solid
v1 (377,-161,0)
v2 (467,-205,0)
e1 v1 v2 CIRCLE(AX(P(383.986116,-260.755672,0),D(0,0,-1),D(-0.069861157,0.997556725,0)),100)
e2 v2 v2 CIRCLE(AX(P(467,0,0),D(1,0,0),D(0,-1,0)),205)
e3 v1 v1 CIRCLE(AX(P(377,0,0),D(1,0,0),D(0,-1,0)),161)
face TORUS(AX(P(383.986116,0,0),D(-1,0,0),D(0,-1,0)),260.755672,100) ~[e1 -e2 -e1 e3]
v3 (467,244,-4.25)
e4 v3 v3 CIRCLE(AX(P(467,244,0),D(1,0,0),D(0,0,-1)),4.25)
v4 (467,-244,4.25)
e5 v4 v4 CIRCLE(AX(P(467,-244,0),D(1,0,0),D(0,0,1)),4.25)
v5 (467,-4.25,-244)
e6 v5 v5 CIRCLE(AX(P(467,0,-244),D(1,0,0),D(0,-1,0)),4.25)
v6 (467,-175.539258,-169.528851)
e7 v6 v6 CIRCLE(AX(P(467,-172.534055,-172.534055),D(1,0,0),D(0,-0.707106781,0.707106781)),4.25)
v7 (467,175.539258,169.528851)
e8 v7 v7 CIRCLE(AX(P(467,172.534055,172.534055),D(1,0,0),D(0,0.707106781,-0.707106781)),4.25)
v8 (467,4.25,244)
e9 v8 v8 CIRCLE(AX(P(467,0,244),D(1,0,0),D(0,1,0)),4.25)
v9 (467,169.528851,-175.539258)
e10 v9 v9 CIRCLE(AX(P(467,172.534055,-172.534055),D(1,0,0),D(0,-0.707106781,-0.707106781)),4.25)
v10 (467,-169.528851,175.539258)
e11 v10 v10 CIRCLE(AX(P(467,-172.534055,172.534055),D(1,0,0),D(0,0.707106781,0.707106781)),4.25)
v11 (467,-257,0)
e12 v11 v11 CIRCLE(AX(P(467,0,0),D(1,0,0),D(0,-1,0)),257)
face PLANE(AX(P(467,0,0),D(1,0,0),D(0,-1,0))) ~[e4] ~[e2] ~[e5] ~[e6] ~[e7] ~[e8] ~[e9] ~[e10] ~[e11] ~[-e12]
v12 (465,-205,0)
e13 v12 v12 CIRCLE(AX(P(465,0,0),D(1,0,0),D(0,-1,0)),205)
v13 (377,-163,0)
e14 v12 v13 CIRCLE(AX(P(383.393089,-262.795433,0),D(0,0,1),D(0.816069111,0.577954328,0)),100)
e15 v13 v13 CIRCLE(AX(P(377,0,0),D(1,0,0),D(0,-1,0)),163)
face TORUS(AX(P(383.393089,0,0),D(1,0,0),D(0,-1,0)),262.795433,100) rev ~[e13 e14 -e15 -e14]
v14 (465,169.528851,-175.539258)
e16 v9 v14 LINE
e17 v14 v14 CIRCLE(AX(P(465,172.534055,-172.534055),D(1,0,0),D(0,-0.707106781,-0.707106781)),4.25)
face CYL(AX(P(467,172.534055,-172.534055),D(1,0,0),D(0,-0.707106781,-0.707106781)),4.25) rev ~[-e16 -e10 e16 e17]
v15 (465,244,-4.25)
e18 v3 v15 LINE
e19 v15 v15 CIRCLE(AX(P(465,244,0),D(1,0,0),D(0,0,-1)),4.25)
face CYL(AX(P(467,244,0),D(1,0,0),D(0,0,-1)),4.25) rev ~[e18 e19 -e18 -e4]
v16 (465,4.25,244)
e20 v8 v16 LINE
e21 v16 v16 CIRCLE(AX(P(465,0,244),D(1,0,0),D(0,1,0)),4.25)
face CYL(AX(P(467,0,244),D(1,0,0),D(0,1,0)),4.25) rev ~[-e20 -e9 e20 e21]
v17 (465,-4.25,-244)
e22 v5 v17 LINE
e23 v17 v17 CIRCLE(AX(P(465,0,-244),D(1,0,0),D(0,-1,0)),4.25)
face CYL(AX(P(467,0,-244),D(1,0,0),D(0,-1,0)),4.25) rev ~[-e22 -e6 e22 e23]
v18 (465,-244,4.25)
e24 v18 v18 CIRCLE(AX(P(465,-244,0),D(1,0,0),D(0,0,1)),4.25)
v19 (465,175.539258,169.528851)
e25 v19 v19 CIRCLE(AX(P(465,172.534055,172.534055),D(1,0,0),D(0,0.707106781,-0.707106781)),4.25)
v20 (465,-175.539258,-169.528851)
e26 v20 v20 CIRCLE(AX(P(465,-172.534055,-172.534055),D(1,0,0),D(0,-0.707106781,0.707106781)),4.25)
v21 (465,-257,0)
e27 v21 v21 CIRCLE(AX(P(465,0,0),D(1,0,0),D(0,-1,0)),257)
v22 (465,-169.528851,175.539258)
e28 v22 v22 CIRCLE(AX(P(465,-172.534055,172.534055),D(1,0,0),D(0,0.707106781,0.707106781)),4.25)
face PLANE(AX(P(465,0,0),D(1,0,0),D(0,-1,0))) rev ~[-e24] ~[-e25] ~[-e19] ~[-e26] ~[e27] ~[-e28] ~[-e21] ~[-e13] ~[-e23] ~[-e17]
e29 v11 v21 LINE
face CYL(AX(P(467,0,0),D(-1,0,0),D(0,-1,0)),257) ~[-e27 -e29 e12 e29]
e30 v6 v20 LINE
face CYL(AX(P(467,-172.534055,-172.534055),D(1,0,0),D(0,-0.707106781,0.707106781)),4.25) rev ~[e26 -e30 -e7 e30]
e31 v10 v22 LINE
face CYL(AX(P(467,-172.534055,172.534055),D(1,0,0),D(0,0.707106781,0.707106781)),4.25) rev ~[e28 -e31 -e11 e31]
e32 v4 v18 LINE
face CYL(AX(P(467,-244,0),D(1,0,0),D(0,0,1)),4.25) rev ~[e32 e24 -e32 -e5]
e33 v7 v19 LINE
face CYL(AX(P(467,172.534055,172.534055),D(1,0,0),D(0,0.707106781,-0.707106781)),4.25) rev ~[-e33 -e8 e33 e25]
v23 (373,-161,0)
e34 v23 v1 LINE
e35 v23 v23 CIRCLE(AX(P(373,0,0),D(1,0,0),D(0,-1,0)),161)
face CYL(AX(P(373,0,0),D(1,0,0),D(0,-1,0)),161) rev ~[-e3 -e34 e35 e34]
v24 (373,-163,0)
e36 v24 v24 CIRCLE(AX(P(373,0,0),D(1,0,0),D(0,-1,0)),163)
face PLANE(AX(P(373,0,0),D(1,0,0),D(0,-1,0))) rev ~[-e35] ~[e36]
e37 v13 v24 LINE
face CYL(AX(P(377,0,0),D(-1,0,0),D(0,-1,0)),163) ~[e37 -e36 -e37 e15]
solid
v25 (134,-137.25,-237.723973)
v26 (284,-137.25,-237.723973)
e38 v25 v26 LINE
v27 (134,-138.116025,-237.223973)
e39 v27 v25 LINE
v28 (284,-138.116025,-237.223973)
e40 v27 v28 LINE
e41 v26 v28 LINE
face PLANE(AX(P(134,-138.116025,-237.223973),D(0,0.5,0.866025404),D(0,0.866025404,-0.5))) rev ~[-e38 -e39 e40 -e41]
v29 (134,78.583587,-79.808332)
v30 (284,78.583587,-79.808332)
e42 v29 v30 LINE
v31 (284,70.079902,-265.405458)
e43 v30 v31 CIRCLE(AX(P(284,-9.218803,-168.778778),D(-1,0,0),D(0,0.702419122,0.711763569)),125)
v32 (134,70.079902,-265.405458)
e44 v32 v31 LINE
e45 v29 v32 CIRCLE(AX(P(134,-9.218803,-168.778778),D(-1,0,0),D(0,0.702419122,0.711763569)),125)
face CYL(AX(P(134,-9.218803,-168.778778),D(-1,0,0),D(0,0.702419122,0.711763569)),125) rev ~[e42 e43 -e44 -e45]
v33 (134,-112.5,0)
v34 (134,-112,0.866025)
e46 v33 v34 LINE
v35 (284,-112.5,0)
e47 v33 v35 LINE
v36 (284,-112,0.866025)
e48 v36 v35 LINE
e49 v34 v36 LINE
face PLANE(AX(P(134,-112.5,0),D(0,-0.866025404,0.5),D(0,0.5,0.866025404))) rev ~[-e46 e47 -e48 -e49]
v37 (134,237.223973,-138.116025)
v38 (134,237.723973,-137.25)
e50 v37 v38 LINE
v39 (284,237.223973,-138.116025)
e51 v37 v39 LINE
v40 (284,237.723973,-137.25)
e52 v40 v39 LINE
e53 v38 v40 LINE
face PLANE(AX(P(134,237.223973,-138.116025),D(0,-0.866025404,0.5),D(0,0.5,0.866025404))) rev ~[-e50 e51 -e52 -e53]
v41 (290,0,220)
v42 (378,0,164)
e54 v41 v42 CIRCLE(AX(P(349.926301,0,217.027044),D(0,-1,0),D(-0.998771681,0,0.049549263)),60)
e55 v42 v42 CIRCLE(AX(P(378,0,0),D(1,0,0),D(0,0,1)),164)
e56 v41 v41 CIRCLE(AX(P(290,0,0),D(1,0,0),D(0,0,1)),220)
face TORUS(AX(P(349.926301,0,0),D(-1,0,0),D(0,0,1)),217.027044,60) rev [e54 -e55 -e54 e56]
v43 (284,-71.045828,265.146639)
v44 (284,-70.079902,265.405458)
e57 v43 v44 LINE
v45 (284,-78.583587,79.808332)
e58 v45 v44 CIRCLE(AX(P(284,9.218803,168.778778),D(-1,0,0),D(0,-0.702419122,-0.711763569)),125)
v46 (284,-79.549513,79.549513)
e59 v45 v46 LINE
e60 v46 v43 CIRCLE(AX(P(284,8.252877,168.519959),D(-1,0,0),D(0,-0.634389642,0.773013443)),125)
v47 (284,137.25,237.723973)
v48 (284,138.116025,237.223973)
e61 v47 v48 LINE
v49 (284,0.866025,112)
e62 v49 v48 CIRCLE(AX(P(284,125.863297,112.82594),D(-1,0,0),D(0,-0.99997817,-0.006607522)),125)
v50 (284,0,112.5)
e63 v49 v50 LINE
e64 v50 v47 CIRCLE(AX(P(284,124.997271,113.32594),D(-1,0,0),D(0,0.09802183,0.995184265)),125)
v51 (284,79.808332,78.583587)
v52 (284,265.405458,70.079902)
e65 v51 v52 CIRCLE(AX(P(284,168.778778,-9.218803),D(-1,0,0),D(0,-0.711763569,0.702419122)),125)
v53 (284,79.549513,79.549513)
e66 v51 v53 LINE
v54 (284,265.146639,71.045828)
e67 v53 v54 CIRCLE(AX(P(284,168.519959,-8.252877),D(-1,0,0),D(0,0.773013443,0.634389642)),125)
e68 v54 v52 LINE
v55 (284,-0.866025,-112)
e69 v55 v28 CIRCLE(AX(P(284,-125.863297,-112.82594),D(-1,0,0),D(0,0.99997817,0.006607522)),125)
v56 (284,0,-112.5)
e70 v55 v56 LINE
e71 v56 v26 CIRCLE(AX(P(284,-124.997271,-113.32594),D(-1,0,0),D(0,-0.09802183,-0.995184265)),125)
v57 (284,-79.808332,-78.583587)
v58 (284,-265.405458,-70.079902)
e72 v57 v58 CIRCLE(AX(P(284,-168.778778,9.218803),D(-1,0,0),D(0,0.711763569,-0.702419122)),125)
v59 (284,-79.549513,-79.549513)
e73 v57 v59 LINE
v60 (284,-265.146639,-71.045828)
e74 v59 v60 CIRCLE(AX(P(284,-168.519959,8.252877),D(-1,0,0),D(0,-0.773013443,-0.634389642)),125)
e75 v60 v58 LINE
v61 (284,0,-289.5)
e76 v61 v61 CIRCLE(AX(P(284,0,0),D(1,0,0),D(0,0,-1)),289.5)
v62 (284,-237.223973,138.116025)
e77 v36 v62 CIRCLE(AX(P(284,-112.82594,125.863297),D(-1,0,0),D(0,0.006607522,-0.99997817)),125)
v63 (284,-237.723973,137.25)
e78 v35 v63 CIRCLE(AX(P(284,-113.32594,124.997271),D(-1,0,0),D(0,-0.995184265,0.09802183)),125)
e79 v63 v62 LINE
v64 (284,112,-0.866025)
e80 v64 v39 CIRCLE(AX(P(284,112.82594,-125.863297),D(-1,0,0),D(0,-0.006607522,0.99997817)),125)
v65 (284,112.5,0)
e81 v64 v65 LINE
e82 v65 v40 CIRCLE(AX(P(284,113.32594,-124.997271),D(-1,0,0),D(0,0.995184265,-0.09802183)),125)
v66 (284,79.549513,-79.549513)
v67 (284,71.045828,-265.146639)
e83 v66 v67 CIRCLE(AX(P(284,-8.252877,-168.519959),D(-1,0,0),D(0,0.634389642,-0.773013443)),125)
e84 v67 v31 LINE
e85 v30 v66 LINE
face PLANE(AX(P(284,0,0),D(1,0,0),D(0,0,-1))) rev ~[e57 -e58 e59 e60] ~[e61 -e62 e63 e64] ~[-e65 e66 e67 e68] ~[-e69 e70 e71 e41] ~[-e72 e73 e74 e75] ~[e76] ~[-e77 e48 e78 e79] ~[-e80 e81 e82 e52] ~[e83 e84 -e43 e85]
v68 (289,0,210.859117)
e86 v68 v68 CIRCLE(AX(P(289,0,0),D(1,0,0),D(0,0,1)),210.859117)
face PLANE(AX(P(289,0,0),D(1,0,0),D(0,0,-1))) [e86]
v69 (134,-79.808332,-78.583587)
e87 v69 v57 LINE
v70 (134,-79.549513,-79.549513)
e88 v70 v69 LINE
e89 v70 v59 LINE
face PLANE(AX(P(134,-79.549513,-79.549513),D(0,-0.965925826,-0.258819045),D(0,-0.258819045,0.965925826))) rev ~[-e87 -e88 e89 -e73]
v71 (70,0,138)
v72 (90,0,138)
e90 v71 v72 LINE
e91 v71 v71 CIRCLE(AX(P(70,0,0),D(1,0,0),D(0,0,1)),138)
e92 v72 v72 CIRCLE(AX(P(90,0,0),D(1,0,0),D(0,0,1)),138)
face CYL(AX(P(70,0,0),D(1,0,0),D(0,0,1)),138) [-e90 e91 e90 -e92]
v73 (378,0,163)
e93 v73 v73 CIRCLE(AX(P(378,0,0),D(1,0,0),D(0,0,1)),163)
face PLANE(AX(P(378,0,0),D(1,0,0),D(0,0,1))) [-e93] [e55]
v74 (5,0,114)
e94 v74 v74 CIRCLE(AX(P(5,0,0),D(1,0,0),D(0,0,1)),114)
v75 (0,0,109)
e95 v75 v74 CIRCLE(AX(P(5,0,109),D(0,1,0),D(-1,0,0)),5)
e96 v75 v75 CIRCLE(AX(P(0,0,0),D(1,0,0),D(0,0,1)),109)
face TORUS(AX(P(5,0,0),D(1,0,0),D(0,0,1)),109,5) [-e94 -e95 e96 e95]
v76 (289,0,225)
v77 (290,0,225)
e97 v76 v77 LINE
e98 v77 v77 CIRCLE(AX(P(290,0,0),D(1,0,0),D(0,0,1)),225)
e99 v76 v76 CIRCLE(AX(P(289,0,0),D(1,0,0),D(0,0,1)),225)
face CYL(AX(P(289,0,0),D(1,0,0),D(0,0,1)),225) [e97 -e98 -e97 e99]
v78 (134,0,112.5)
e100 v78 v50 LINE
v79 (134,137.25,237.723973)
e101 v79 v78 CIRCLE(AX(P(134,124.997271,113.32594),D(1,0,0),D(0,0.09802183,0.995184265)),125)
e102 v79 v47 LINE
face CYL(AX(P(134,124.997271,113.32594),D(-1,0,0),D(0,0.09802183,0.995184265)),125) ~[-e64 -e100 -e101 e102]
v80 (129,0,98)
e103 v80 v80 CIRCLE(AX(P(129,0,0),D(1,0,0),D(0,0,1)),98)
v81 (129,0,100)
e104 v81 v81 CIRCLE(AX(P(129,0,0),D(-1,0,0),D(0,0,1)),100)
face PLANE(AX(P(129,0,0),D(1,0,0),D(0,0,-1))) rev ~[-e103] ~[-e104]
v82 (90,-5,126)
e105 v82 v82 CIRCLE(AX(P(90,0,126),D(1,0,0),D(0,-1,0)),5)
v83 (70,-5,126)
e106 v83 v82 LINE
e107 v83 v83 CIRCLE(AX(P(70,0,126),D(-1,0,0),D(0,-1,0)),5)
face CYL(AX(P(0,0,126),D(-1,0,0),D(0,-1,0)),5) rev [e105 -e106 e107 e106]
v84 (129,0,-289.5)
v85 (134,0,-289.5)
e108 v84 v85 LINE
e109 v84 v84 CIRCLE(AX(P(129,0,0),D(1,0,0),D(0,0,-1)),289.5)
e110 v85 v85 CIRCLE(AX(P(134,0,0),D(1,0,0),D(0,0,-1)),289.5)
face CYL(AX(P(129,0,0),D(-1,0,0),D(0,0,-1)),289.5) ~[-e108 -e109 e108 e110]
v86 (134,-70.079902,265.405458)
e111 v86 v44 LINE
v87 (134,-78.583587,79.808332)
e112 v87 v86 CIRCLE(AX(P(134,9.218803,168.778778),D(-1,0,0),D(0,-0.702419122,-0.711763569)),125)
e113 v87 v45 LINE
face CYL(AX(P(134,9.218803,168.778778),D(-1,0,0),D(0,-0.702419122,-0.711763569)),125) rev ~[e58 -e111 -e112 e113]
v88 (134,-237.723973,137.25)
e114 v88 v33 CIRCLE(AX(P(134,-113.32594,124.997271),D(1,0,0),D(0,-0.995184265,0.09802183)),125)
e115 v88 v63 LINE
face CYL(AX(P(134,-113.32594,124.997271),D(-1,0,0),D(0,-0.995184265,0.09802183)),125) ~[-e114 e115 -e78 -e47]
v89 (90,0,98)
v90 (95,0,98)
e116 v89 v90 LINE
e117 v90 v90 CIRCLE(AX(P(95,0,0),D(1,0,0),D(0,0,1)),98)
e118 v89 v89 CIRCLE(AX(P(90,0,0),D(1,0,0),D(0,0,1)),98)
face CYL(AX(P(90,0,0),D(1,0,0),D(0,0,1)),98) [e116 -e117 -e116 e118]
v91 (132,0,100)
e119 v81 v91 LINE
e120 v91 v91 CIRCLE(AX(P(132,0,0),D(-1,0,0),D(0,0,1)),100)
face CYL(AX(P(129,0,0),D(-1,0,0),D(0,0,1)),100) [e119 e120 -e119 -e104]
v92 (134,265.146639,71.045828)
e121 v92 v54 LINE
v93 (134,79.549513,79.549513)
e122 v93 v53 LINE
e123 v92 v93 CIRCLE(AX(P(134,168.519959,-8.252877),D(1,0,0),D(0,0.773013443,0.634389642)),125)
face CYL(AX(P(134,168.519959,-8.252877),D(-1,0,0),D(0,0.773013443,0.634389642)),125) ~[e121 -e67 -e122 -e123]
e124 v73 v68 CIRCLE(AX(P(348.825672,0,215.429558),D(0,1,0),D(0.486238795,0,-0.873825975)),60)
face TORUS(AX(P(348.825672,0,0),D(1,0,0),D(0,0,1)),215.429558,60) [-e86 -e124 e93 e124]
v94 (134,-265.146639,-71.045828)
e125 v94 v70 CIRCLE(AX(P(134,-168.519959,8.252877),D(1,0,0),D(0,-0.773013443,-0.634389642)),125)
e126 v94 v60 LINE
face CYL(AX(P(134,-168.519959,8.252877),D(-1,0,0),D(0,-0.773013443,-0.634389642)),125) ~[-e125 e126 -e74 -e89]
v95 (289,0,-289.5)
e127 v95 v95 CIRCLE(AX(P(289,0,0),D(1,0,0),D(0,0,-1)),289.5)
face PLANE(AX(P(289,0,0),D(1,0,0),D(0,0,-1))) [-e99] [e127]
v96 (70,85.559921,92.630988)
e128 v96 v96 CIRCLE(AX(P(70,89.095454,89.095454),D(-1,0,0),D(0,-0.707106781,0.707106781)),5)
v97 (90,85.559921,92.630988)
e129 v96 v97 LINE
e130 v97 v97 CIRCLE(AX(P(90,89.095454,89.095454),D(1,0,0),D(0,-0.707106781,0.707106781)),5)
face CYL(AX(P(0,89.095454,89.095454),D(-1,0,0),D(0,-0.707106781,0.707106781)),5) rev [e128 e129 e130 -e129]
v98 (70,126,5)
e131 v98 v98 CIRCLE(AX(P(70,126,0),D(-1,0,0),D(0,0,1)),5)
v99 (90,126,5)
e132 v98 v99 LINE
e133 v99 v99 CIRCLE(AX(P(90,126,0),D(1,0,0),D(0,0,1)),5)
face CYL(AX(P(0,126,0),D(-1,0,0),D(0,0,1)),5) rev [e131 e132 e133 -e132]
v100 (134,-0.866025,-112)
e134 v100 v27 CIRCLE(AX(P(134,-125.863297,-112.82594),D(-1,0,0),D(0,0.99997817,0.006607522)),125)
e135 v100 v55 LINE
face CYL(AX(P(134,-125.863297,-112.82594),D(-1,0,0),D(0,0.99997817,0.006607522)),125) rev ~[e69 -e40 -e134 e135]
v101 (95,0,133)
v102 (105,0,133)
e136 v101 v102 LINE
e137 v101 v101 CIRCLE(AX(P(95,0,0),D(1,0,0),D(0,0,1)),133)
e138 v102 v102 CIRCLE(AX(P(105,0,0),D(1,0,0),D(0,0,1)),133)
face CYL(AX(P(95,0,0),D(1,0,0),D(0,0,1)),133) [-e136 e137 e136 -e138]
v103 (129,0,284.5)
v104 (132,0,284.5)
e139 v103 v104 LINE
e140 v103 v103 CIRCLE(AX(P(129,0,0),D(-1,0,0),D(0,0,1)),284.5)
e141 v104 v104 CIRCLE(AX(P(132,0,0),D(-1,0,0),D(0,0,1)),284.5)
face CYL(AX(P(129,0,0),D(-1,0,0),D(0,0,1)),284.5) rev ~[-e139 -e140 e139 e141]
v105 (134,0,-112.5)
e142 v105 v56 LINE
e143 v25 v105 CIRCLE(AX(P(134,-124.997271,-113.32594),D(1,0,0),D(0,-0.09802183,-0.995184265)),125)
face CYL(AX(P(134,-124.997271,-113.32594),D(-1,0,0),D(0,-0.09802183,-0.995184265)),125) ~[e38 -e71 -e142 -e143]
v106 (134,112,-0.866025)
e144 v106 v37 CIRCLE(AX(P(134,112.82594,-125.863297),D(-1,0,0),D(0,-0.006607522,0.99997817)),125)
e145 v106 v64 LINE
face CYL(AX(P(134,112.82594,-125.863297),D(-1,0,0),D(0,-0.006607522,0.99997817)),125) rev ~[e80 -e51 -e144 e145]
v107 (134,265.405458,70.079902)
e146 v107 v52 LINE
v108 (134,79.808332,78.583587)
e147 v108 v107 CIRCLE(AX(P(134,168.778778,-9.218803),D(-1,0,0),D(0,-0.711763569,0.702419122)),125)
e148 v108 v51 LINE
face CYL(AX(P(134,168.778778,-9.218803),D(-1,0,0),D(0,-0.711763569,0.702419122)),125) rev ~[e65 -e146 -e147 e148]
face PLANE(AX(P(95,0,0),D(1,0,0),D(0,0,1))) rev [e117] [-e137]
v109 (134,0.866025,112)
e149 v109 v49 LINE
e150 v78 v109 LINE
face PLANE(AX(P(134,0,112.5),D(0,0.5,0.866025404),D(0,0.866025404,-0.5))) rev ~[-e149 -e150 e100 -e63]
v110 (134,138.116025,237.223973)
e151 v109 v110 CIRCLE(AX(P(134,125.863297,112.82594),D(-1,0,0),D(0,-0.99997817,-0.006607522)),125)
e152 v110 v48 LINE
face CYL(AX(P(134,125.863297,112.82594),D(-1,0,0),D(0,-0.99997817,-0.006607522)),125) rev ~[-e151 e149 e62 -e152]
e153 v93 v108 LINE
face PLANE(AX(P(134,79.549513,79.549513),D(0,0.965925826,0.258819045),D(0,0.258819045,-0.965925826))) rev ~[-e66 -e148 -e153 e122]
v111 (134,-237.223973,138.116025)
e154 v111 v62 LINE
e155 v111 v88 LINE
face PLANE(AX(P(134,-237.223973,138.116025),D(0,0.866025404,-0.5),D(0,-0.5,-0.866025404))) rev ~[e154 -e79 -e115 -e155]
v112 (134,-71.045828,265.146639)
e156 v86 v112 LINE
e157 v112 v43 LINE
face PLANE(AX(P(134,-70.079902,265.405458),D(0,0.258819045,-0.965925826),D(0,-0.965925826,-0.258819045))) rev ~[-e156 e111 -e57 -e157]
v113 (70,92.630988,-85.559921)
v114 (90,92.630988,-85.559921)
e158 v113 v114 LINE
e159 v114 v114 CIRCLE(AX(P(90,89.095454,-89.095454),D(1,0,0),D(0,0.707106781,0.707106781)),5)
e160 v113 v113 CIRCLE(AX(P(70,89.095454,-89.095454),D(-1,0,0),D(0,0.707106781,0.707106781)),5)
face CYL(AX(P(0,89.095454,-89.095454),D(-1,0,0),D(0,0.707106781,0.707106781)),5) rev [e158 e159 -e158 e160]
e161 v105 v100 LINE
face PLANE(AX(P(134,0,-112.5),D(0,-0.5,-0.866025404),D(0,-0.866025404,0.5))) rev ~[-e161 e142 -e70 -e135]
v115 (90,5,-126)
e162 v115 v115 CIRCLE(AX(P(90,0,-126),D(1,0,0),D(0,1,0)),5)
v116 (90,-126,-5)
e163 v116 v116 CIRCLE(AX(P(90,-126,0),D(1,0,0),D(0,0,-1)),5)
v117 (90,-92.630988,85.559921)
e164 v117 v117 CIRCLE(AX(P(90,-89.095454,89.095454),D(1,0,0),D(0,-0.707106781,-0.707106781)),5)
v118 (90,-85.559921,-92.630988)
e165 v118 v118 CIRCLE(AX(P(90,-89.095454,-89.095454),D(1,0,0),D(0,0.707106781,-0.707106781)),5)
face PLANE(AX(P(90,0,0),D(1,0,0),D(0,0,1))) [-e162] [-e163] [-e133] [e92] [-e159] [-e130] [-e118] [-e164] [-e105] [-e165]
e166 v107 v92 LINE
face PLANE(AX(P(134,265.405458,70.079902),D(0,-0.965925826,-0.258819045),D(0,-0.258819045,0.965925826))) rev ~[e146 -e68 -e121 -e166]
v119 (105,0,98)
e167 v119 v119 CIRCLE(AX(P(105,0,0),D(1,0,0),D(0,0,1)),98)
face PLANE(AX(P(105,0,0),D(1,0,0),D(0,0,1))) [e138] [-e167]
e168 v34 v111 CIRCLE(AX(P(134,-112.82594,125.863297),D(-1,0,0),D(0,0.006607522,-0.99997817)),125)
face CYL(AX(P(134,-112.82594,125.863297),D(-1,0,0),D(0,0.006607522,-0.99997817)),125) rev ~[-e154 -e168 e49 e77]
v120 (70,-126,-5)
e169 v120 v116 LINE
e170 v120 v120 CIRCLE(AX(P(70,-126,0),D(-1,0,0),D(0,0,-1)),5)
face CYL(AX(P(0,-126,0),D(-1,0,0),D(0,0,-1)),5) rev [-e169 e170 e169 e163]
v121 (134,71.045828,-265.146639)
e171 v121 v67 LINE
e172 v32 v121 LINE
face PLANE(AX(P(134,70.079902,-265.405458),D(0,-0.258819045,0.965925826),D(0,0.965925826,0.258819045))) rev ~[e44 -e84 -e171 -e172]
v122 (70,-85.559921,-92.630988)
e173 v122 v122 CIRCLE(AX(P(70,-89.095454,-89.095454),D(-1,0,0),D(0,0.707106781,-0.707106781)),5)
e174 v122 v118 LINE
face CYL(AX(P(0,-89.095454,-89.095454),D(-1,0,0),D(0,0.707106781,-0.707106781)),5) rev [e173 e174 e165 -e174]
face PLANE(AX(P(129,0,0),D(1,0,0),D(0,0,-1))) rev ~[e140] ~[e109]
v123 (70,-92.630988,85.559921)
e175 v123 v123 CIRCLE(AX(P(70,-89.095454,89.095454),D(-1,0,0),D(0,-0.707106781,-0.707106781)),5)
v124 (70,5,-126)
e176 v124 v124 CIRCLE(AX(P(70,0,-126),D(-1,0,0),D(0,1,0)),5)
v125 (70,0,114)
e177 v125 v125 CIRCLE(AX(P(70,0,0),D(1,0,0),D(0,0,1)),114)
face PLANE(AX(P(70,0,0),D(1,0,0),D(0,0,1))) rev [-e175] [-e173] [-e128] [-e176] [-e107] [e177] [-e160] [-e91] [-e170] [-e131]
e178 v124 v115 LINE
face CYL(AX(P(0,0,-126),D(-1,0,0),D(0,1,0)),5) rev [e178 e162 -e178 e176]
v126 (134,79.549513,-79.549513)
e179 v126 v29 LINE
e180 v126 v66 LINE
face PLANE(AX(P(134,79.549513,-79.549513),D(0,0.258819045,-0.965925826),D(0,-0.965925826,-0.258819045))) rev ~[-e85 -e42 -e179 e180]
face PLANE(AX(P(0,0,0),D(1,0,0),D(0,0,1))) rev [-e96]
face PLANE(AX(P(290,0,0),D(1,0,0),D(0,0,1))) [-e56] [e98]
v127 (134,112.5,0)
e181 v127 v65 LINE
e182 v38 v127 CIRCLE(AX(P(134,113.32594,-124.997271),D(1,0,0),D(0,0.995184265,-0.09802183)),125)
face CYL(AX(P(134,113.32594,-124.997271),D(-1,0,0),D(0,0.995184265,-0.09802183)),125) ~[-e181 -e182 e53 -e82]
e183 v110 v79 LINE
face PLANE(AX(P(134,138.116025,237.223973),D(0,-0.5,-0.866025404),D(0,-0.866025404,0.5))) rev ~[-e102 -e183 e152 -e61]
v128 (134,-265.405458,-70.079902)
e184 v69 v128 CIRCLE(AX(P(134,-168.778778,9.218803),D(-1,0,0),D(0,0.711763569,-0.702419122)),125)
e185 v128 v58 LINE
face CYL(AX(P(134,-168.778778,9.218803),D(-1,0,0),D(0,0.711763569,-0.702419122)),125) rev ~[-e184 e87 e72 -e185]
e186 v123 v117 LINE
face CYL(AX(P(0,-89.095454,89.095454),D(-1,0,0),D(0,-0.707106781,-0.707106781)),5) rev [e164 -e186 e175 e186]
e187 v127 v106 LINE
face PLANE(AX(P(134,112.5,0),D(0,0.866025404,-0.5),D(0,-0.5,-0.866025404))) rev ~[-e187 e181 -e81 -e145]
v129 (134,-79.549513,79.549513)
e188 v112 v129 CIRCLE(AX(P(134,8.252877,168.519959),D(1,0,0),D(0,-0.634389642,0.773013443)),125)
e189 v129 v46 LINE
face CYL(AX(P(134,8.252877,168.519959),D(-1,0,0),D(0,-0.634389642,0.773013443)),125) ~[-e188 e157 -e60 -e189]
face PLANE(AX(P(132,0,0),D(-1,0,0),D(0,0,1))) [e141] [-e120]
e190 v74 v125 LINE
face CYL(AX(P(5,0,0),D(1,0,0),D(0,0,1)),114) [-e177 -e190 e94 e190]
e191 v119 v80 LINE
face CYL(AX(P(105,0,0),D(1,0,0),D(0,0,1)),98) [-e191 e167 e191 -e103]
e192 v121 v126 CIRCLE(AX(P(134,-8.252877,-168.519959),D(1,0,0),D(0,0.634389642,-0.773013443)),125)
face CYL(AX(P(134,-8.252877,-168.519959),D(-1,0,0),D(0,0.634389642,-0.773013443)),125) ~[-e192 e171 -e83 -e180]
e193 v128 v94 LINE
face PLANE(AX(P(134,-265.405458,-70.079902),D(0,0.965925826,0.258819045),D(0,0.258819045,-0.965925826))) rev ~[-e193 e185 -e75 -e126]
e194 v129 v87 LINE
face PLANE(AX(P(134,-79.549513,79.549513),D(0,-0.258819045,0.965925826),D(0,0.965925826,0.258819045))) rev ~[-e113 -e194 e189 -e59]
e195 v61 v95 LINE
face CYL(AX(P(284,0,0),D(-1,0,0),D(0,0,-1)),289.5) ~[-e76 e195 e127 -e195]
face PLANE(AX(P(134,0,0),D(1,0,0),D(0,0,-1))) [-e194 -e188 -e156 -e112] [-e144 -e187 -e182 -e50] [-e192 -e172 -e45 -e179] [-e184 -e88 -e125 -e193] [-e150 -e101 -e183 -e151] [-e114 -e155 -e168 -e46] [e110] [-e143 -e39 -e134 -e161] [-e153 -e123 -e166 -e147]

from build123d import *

# Parameters (mm, degrees)
SKETCH2_R         = 289.5
EXTRUDE1_DEPTH    = 5
SKETCH9_R         = 284.5
SKETCH9_R_2       = 100
EXTRUDE7_DEPTH    = 3
SKETCH3_R         = 289.5
EXTRUDE2_DEPTH    = 5
EXTRUDE3_DEPTH    = 155
CIRPATTERN1_COUNT = 8
SKETCH7_R         = 4.25
EXTRUDE5_DEPTH    = 5
CIRPATTERN2_COUNT = 8
SKETCH8_R         = 5
EXTRUDE6_DEPTH    = 90
CIRPATTERN3_COUNT = 8


with BuildPart() as part:
    # Sketch1 → Revolve1 (revolve)
    with BuildSketch(Plane.XY, mode=Mode.PRIVATE) as revolve1_sk:
        with BuildLine():
            Line((0, 0), (0, 109))
            ThreePointArc((0, 109), (1.464466094, 112.535533906), (5, 114))
            Line((5, 114), (70, 114))
            Line((70, 114), (70, 138))
            Line((70, 138), (90, 138))
            Line((90, 138), (90, 98))
            Line((90, 98), (95, 98))
            Line((95, 98), (95, 133))
            Line((95, 133), (105, 133))
            Line((105, 133), (105, 98))
            Line((105, 98), (129, 98))
            Line((129, 98), (129, 0))
            Line((129, 0), (0, 0))
        make_face()
    revolve(revolve1_sk.sketch.rotate(Axis((0, 0, 0), (1, 0, 0)), 90), axis=Axis((0, 0, 0), (1, 0, 0)))

    # Sketch2 → Extrude1 (add)
    with BuildSketch(Plane(origin=(129, 0, 0), x_dir=(0, 0, -1), z_dir=(1, 0, 0))):
        Circle(SKETCH2_R)
    extrude(amount=EXTRUDE1_DEPTH)

    # Sketch9 → Extrude7 (cut)
    with BuildSketch(Plane.ZY.offset(-129)):
        Circle(SKETCH9_R)
        Circle(SKETCH9_R_2, mode=Mode.SUBTRACT)
    extrude(amount=-EXTRUDE7_DEPTH, mode=Mode.SUBTRACT)



with BuildPart() as body_2:
    # Sketch3 → Extrude2 (new body)
    with BuildSketch(Plane(origin=(284, 0, 0), x_dir=(0, 0, -1), z_dir=(1, 0, 0))):
        Circle(SKETCH3_R)
    extrude(amount=EXTRUDE2_DEPTH)


with BuildPart() as part_1:
    add(part.part)

    add(body_2.part)  # Extrude3 merges body 2
    # Sketch4 → Extrude3 (add)
    with BuildSketch(Plane(origin=(134, 0, 0), x_dir=(0, 0, -1), z_dir=(1, 0, 0))):
        with BuildLine():
            Line((0, 112.5), (0.866025404, 112))
            ThreePointArc((0.866025404, 112), (41.61311066, 205.167188653), (138.116025404, 237.223973339))
            Line((138.116025404, 237.223973339), (137.25, 237.723973339))
            ThreePointArc((137.25, 237.723973339), (40.747085256, 205.667188653), (0, 112.5))
        make_face()
    extrude3 = extrude(amount=EXTRUDE3_DEPTH)

    # CirPattern1: Extrude3 ×8 about axis
    cirpattern1_axis = Axis((0, 0, 0), (1, 0, 0))
    for i in range(1, CIRPATTERN1_COUNT):
        add(extrude3.rotate(cirpattern1_axis, i * 360 / CIRPATTERN1_COUNT))

    # Sketch5 → Revolve2 (revolve)
    with BuildSketch(Plane.XY, mode=Mode.PRIVATE) as revolve2_sk:
        with BuildLine():
            Line((289, 225), (290, 225))
            Line((290, 225), (290, 220))
            ThreePointArc((290, 220), (317.71377132, 166.407354932), (378, 164))
            Line((378, 164), (378, 163))
            ThreePointArc((378, 163), (316.466342394, 164.903587247), (289, 220))
            Line((289, 220), (289, 225))
        make_face()
    revolve(revolve2_sk.sketch.rotate(Axis((0, 0, 0), (1, 0, 0)), 90), axis=Axis((0, 0, 0), (1, 0, 0)))

    # Sketch8 → Extrude6 (cut)
    with BuildSketch(Plane(origin=(0, 0, 0), x_dir=(0, 0, -1), z_dir=(1, 0, 0))):
        with Locations(Location((0, 126, 0), (0, 0, 180))):
            Circle(SKETCH8_R)
    extrude6 = extrude(amount=EXTRUDE6_DEPTH, mode=Mode.SUBTRACT)

    # CirPattern3: Extrude6 ×8 about axis
    cirpattern3_axis = Axis((0, 0, 0), (1, 0, 0))
    for i in range(1, CIRPATTERN3_COUNT):
        add(extrude6.rotate(cirpattern3_axis, i * 360 / CIRPATTERN3_COUNT), mode=Mode.SUBTRACT)


with BuildPart() as body_2_2:
    # Sketch6 → Revolve3 (revolve)
    with BuildSketch(Plane.XY, mode=Mode.PRIVATE) as revolve3_sk:
        with BuildLine():
            Line((467, 257), (465, 257))
            Line((465, 257), (465, 205))
            ThreePointArc((465, 205), (426.466047496, 172.547329056), (377, 163))
            Line((377, 163), (373, 163))
            Line((373, 163), (373, 161))
            Line((373, 161), (377, 161))
            ThreePointArc((377, 161), (427.907128888, 170.917236366), (467, 205))
            Line((467, 205), (467, 257))
        make_face()
    revolve(revolve3_sk.sketch.rotate(Axis((0, 0, 0), (1, 0, 0)), 180), axis=Axis((0, 0, 0), (1, 0, 0)))

    # Sketch7 → Extrude5 (cut)
    with BuildSketch(Plane(origin=(467, 0, 0), x_dir=(0, 0, -1), z_dir=(1, 0, 0))):
        with Locations((0, 244)):
            Circle(SKETCH7_R)
    extrude5 = extrude(amount=-EXTRUDE5_DEPTH, mode=Mode.SUBTRACT)

    # CirPattern2: Extrude5 ×8 about axis
    cirpattern2_axis = Axis((0, 0, 0), (1, 0, 0))
    for i in range(1, CIRPATTERN2_COUNT):
        add(extrude5.rotate(cirpattern2_axis, i * 360 / CIRPATTERN2_COUNT), mode=Mode.SUBTRACT)


solid = Compound([part_1.part, body_2_2.part])
